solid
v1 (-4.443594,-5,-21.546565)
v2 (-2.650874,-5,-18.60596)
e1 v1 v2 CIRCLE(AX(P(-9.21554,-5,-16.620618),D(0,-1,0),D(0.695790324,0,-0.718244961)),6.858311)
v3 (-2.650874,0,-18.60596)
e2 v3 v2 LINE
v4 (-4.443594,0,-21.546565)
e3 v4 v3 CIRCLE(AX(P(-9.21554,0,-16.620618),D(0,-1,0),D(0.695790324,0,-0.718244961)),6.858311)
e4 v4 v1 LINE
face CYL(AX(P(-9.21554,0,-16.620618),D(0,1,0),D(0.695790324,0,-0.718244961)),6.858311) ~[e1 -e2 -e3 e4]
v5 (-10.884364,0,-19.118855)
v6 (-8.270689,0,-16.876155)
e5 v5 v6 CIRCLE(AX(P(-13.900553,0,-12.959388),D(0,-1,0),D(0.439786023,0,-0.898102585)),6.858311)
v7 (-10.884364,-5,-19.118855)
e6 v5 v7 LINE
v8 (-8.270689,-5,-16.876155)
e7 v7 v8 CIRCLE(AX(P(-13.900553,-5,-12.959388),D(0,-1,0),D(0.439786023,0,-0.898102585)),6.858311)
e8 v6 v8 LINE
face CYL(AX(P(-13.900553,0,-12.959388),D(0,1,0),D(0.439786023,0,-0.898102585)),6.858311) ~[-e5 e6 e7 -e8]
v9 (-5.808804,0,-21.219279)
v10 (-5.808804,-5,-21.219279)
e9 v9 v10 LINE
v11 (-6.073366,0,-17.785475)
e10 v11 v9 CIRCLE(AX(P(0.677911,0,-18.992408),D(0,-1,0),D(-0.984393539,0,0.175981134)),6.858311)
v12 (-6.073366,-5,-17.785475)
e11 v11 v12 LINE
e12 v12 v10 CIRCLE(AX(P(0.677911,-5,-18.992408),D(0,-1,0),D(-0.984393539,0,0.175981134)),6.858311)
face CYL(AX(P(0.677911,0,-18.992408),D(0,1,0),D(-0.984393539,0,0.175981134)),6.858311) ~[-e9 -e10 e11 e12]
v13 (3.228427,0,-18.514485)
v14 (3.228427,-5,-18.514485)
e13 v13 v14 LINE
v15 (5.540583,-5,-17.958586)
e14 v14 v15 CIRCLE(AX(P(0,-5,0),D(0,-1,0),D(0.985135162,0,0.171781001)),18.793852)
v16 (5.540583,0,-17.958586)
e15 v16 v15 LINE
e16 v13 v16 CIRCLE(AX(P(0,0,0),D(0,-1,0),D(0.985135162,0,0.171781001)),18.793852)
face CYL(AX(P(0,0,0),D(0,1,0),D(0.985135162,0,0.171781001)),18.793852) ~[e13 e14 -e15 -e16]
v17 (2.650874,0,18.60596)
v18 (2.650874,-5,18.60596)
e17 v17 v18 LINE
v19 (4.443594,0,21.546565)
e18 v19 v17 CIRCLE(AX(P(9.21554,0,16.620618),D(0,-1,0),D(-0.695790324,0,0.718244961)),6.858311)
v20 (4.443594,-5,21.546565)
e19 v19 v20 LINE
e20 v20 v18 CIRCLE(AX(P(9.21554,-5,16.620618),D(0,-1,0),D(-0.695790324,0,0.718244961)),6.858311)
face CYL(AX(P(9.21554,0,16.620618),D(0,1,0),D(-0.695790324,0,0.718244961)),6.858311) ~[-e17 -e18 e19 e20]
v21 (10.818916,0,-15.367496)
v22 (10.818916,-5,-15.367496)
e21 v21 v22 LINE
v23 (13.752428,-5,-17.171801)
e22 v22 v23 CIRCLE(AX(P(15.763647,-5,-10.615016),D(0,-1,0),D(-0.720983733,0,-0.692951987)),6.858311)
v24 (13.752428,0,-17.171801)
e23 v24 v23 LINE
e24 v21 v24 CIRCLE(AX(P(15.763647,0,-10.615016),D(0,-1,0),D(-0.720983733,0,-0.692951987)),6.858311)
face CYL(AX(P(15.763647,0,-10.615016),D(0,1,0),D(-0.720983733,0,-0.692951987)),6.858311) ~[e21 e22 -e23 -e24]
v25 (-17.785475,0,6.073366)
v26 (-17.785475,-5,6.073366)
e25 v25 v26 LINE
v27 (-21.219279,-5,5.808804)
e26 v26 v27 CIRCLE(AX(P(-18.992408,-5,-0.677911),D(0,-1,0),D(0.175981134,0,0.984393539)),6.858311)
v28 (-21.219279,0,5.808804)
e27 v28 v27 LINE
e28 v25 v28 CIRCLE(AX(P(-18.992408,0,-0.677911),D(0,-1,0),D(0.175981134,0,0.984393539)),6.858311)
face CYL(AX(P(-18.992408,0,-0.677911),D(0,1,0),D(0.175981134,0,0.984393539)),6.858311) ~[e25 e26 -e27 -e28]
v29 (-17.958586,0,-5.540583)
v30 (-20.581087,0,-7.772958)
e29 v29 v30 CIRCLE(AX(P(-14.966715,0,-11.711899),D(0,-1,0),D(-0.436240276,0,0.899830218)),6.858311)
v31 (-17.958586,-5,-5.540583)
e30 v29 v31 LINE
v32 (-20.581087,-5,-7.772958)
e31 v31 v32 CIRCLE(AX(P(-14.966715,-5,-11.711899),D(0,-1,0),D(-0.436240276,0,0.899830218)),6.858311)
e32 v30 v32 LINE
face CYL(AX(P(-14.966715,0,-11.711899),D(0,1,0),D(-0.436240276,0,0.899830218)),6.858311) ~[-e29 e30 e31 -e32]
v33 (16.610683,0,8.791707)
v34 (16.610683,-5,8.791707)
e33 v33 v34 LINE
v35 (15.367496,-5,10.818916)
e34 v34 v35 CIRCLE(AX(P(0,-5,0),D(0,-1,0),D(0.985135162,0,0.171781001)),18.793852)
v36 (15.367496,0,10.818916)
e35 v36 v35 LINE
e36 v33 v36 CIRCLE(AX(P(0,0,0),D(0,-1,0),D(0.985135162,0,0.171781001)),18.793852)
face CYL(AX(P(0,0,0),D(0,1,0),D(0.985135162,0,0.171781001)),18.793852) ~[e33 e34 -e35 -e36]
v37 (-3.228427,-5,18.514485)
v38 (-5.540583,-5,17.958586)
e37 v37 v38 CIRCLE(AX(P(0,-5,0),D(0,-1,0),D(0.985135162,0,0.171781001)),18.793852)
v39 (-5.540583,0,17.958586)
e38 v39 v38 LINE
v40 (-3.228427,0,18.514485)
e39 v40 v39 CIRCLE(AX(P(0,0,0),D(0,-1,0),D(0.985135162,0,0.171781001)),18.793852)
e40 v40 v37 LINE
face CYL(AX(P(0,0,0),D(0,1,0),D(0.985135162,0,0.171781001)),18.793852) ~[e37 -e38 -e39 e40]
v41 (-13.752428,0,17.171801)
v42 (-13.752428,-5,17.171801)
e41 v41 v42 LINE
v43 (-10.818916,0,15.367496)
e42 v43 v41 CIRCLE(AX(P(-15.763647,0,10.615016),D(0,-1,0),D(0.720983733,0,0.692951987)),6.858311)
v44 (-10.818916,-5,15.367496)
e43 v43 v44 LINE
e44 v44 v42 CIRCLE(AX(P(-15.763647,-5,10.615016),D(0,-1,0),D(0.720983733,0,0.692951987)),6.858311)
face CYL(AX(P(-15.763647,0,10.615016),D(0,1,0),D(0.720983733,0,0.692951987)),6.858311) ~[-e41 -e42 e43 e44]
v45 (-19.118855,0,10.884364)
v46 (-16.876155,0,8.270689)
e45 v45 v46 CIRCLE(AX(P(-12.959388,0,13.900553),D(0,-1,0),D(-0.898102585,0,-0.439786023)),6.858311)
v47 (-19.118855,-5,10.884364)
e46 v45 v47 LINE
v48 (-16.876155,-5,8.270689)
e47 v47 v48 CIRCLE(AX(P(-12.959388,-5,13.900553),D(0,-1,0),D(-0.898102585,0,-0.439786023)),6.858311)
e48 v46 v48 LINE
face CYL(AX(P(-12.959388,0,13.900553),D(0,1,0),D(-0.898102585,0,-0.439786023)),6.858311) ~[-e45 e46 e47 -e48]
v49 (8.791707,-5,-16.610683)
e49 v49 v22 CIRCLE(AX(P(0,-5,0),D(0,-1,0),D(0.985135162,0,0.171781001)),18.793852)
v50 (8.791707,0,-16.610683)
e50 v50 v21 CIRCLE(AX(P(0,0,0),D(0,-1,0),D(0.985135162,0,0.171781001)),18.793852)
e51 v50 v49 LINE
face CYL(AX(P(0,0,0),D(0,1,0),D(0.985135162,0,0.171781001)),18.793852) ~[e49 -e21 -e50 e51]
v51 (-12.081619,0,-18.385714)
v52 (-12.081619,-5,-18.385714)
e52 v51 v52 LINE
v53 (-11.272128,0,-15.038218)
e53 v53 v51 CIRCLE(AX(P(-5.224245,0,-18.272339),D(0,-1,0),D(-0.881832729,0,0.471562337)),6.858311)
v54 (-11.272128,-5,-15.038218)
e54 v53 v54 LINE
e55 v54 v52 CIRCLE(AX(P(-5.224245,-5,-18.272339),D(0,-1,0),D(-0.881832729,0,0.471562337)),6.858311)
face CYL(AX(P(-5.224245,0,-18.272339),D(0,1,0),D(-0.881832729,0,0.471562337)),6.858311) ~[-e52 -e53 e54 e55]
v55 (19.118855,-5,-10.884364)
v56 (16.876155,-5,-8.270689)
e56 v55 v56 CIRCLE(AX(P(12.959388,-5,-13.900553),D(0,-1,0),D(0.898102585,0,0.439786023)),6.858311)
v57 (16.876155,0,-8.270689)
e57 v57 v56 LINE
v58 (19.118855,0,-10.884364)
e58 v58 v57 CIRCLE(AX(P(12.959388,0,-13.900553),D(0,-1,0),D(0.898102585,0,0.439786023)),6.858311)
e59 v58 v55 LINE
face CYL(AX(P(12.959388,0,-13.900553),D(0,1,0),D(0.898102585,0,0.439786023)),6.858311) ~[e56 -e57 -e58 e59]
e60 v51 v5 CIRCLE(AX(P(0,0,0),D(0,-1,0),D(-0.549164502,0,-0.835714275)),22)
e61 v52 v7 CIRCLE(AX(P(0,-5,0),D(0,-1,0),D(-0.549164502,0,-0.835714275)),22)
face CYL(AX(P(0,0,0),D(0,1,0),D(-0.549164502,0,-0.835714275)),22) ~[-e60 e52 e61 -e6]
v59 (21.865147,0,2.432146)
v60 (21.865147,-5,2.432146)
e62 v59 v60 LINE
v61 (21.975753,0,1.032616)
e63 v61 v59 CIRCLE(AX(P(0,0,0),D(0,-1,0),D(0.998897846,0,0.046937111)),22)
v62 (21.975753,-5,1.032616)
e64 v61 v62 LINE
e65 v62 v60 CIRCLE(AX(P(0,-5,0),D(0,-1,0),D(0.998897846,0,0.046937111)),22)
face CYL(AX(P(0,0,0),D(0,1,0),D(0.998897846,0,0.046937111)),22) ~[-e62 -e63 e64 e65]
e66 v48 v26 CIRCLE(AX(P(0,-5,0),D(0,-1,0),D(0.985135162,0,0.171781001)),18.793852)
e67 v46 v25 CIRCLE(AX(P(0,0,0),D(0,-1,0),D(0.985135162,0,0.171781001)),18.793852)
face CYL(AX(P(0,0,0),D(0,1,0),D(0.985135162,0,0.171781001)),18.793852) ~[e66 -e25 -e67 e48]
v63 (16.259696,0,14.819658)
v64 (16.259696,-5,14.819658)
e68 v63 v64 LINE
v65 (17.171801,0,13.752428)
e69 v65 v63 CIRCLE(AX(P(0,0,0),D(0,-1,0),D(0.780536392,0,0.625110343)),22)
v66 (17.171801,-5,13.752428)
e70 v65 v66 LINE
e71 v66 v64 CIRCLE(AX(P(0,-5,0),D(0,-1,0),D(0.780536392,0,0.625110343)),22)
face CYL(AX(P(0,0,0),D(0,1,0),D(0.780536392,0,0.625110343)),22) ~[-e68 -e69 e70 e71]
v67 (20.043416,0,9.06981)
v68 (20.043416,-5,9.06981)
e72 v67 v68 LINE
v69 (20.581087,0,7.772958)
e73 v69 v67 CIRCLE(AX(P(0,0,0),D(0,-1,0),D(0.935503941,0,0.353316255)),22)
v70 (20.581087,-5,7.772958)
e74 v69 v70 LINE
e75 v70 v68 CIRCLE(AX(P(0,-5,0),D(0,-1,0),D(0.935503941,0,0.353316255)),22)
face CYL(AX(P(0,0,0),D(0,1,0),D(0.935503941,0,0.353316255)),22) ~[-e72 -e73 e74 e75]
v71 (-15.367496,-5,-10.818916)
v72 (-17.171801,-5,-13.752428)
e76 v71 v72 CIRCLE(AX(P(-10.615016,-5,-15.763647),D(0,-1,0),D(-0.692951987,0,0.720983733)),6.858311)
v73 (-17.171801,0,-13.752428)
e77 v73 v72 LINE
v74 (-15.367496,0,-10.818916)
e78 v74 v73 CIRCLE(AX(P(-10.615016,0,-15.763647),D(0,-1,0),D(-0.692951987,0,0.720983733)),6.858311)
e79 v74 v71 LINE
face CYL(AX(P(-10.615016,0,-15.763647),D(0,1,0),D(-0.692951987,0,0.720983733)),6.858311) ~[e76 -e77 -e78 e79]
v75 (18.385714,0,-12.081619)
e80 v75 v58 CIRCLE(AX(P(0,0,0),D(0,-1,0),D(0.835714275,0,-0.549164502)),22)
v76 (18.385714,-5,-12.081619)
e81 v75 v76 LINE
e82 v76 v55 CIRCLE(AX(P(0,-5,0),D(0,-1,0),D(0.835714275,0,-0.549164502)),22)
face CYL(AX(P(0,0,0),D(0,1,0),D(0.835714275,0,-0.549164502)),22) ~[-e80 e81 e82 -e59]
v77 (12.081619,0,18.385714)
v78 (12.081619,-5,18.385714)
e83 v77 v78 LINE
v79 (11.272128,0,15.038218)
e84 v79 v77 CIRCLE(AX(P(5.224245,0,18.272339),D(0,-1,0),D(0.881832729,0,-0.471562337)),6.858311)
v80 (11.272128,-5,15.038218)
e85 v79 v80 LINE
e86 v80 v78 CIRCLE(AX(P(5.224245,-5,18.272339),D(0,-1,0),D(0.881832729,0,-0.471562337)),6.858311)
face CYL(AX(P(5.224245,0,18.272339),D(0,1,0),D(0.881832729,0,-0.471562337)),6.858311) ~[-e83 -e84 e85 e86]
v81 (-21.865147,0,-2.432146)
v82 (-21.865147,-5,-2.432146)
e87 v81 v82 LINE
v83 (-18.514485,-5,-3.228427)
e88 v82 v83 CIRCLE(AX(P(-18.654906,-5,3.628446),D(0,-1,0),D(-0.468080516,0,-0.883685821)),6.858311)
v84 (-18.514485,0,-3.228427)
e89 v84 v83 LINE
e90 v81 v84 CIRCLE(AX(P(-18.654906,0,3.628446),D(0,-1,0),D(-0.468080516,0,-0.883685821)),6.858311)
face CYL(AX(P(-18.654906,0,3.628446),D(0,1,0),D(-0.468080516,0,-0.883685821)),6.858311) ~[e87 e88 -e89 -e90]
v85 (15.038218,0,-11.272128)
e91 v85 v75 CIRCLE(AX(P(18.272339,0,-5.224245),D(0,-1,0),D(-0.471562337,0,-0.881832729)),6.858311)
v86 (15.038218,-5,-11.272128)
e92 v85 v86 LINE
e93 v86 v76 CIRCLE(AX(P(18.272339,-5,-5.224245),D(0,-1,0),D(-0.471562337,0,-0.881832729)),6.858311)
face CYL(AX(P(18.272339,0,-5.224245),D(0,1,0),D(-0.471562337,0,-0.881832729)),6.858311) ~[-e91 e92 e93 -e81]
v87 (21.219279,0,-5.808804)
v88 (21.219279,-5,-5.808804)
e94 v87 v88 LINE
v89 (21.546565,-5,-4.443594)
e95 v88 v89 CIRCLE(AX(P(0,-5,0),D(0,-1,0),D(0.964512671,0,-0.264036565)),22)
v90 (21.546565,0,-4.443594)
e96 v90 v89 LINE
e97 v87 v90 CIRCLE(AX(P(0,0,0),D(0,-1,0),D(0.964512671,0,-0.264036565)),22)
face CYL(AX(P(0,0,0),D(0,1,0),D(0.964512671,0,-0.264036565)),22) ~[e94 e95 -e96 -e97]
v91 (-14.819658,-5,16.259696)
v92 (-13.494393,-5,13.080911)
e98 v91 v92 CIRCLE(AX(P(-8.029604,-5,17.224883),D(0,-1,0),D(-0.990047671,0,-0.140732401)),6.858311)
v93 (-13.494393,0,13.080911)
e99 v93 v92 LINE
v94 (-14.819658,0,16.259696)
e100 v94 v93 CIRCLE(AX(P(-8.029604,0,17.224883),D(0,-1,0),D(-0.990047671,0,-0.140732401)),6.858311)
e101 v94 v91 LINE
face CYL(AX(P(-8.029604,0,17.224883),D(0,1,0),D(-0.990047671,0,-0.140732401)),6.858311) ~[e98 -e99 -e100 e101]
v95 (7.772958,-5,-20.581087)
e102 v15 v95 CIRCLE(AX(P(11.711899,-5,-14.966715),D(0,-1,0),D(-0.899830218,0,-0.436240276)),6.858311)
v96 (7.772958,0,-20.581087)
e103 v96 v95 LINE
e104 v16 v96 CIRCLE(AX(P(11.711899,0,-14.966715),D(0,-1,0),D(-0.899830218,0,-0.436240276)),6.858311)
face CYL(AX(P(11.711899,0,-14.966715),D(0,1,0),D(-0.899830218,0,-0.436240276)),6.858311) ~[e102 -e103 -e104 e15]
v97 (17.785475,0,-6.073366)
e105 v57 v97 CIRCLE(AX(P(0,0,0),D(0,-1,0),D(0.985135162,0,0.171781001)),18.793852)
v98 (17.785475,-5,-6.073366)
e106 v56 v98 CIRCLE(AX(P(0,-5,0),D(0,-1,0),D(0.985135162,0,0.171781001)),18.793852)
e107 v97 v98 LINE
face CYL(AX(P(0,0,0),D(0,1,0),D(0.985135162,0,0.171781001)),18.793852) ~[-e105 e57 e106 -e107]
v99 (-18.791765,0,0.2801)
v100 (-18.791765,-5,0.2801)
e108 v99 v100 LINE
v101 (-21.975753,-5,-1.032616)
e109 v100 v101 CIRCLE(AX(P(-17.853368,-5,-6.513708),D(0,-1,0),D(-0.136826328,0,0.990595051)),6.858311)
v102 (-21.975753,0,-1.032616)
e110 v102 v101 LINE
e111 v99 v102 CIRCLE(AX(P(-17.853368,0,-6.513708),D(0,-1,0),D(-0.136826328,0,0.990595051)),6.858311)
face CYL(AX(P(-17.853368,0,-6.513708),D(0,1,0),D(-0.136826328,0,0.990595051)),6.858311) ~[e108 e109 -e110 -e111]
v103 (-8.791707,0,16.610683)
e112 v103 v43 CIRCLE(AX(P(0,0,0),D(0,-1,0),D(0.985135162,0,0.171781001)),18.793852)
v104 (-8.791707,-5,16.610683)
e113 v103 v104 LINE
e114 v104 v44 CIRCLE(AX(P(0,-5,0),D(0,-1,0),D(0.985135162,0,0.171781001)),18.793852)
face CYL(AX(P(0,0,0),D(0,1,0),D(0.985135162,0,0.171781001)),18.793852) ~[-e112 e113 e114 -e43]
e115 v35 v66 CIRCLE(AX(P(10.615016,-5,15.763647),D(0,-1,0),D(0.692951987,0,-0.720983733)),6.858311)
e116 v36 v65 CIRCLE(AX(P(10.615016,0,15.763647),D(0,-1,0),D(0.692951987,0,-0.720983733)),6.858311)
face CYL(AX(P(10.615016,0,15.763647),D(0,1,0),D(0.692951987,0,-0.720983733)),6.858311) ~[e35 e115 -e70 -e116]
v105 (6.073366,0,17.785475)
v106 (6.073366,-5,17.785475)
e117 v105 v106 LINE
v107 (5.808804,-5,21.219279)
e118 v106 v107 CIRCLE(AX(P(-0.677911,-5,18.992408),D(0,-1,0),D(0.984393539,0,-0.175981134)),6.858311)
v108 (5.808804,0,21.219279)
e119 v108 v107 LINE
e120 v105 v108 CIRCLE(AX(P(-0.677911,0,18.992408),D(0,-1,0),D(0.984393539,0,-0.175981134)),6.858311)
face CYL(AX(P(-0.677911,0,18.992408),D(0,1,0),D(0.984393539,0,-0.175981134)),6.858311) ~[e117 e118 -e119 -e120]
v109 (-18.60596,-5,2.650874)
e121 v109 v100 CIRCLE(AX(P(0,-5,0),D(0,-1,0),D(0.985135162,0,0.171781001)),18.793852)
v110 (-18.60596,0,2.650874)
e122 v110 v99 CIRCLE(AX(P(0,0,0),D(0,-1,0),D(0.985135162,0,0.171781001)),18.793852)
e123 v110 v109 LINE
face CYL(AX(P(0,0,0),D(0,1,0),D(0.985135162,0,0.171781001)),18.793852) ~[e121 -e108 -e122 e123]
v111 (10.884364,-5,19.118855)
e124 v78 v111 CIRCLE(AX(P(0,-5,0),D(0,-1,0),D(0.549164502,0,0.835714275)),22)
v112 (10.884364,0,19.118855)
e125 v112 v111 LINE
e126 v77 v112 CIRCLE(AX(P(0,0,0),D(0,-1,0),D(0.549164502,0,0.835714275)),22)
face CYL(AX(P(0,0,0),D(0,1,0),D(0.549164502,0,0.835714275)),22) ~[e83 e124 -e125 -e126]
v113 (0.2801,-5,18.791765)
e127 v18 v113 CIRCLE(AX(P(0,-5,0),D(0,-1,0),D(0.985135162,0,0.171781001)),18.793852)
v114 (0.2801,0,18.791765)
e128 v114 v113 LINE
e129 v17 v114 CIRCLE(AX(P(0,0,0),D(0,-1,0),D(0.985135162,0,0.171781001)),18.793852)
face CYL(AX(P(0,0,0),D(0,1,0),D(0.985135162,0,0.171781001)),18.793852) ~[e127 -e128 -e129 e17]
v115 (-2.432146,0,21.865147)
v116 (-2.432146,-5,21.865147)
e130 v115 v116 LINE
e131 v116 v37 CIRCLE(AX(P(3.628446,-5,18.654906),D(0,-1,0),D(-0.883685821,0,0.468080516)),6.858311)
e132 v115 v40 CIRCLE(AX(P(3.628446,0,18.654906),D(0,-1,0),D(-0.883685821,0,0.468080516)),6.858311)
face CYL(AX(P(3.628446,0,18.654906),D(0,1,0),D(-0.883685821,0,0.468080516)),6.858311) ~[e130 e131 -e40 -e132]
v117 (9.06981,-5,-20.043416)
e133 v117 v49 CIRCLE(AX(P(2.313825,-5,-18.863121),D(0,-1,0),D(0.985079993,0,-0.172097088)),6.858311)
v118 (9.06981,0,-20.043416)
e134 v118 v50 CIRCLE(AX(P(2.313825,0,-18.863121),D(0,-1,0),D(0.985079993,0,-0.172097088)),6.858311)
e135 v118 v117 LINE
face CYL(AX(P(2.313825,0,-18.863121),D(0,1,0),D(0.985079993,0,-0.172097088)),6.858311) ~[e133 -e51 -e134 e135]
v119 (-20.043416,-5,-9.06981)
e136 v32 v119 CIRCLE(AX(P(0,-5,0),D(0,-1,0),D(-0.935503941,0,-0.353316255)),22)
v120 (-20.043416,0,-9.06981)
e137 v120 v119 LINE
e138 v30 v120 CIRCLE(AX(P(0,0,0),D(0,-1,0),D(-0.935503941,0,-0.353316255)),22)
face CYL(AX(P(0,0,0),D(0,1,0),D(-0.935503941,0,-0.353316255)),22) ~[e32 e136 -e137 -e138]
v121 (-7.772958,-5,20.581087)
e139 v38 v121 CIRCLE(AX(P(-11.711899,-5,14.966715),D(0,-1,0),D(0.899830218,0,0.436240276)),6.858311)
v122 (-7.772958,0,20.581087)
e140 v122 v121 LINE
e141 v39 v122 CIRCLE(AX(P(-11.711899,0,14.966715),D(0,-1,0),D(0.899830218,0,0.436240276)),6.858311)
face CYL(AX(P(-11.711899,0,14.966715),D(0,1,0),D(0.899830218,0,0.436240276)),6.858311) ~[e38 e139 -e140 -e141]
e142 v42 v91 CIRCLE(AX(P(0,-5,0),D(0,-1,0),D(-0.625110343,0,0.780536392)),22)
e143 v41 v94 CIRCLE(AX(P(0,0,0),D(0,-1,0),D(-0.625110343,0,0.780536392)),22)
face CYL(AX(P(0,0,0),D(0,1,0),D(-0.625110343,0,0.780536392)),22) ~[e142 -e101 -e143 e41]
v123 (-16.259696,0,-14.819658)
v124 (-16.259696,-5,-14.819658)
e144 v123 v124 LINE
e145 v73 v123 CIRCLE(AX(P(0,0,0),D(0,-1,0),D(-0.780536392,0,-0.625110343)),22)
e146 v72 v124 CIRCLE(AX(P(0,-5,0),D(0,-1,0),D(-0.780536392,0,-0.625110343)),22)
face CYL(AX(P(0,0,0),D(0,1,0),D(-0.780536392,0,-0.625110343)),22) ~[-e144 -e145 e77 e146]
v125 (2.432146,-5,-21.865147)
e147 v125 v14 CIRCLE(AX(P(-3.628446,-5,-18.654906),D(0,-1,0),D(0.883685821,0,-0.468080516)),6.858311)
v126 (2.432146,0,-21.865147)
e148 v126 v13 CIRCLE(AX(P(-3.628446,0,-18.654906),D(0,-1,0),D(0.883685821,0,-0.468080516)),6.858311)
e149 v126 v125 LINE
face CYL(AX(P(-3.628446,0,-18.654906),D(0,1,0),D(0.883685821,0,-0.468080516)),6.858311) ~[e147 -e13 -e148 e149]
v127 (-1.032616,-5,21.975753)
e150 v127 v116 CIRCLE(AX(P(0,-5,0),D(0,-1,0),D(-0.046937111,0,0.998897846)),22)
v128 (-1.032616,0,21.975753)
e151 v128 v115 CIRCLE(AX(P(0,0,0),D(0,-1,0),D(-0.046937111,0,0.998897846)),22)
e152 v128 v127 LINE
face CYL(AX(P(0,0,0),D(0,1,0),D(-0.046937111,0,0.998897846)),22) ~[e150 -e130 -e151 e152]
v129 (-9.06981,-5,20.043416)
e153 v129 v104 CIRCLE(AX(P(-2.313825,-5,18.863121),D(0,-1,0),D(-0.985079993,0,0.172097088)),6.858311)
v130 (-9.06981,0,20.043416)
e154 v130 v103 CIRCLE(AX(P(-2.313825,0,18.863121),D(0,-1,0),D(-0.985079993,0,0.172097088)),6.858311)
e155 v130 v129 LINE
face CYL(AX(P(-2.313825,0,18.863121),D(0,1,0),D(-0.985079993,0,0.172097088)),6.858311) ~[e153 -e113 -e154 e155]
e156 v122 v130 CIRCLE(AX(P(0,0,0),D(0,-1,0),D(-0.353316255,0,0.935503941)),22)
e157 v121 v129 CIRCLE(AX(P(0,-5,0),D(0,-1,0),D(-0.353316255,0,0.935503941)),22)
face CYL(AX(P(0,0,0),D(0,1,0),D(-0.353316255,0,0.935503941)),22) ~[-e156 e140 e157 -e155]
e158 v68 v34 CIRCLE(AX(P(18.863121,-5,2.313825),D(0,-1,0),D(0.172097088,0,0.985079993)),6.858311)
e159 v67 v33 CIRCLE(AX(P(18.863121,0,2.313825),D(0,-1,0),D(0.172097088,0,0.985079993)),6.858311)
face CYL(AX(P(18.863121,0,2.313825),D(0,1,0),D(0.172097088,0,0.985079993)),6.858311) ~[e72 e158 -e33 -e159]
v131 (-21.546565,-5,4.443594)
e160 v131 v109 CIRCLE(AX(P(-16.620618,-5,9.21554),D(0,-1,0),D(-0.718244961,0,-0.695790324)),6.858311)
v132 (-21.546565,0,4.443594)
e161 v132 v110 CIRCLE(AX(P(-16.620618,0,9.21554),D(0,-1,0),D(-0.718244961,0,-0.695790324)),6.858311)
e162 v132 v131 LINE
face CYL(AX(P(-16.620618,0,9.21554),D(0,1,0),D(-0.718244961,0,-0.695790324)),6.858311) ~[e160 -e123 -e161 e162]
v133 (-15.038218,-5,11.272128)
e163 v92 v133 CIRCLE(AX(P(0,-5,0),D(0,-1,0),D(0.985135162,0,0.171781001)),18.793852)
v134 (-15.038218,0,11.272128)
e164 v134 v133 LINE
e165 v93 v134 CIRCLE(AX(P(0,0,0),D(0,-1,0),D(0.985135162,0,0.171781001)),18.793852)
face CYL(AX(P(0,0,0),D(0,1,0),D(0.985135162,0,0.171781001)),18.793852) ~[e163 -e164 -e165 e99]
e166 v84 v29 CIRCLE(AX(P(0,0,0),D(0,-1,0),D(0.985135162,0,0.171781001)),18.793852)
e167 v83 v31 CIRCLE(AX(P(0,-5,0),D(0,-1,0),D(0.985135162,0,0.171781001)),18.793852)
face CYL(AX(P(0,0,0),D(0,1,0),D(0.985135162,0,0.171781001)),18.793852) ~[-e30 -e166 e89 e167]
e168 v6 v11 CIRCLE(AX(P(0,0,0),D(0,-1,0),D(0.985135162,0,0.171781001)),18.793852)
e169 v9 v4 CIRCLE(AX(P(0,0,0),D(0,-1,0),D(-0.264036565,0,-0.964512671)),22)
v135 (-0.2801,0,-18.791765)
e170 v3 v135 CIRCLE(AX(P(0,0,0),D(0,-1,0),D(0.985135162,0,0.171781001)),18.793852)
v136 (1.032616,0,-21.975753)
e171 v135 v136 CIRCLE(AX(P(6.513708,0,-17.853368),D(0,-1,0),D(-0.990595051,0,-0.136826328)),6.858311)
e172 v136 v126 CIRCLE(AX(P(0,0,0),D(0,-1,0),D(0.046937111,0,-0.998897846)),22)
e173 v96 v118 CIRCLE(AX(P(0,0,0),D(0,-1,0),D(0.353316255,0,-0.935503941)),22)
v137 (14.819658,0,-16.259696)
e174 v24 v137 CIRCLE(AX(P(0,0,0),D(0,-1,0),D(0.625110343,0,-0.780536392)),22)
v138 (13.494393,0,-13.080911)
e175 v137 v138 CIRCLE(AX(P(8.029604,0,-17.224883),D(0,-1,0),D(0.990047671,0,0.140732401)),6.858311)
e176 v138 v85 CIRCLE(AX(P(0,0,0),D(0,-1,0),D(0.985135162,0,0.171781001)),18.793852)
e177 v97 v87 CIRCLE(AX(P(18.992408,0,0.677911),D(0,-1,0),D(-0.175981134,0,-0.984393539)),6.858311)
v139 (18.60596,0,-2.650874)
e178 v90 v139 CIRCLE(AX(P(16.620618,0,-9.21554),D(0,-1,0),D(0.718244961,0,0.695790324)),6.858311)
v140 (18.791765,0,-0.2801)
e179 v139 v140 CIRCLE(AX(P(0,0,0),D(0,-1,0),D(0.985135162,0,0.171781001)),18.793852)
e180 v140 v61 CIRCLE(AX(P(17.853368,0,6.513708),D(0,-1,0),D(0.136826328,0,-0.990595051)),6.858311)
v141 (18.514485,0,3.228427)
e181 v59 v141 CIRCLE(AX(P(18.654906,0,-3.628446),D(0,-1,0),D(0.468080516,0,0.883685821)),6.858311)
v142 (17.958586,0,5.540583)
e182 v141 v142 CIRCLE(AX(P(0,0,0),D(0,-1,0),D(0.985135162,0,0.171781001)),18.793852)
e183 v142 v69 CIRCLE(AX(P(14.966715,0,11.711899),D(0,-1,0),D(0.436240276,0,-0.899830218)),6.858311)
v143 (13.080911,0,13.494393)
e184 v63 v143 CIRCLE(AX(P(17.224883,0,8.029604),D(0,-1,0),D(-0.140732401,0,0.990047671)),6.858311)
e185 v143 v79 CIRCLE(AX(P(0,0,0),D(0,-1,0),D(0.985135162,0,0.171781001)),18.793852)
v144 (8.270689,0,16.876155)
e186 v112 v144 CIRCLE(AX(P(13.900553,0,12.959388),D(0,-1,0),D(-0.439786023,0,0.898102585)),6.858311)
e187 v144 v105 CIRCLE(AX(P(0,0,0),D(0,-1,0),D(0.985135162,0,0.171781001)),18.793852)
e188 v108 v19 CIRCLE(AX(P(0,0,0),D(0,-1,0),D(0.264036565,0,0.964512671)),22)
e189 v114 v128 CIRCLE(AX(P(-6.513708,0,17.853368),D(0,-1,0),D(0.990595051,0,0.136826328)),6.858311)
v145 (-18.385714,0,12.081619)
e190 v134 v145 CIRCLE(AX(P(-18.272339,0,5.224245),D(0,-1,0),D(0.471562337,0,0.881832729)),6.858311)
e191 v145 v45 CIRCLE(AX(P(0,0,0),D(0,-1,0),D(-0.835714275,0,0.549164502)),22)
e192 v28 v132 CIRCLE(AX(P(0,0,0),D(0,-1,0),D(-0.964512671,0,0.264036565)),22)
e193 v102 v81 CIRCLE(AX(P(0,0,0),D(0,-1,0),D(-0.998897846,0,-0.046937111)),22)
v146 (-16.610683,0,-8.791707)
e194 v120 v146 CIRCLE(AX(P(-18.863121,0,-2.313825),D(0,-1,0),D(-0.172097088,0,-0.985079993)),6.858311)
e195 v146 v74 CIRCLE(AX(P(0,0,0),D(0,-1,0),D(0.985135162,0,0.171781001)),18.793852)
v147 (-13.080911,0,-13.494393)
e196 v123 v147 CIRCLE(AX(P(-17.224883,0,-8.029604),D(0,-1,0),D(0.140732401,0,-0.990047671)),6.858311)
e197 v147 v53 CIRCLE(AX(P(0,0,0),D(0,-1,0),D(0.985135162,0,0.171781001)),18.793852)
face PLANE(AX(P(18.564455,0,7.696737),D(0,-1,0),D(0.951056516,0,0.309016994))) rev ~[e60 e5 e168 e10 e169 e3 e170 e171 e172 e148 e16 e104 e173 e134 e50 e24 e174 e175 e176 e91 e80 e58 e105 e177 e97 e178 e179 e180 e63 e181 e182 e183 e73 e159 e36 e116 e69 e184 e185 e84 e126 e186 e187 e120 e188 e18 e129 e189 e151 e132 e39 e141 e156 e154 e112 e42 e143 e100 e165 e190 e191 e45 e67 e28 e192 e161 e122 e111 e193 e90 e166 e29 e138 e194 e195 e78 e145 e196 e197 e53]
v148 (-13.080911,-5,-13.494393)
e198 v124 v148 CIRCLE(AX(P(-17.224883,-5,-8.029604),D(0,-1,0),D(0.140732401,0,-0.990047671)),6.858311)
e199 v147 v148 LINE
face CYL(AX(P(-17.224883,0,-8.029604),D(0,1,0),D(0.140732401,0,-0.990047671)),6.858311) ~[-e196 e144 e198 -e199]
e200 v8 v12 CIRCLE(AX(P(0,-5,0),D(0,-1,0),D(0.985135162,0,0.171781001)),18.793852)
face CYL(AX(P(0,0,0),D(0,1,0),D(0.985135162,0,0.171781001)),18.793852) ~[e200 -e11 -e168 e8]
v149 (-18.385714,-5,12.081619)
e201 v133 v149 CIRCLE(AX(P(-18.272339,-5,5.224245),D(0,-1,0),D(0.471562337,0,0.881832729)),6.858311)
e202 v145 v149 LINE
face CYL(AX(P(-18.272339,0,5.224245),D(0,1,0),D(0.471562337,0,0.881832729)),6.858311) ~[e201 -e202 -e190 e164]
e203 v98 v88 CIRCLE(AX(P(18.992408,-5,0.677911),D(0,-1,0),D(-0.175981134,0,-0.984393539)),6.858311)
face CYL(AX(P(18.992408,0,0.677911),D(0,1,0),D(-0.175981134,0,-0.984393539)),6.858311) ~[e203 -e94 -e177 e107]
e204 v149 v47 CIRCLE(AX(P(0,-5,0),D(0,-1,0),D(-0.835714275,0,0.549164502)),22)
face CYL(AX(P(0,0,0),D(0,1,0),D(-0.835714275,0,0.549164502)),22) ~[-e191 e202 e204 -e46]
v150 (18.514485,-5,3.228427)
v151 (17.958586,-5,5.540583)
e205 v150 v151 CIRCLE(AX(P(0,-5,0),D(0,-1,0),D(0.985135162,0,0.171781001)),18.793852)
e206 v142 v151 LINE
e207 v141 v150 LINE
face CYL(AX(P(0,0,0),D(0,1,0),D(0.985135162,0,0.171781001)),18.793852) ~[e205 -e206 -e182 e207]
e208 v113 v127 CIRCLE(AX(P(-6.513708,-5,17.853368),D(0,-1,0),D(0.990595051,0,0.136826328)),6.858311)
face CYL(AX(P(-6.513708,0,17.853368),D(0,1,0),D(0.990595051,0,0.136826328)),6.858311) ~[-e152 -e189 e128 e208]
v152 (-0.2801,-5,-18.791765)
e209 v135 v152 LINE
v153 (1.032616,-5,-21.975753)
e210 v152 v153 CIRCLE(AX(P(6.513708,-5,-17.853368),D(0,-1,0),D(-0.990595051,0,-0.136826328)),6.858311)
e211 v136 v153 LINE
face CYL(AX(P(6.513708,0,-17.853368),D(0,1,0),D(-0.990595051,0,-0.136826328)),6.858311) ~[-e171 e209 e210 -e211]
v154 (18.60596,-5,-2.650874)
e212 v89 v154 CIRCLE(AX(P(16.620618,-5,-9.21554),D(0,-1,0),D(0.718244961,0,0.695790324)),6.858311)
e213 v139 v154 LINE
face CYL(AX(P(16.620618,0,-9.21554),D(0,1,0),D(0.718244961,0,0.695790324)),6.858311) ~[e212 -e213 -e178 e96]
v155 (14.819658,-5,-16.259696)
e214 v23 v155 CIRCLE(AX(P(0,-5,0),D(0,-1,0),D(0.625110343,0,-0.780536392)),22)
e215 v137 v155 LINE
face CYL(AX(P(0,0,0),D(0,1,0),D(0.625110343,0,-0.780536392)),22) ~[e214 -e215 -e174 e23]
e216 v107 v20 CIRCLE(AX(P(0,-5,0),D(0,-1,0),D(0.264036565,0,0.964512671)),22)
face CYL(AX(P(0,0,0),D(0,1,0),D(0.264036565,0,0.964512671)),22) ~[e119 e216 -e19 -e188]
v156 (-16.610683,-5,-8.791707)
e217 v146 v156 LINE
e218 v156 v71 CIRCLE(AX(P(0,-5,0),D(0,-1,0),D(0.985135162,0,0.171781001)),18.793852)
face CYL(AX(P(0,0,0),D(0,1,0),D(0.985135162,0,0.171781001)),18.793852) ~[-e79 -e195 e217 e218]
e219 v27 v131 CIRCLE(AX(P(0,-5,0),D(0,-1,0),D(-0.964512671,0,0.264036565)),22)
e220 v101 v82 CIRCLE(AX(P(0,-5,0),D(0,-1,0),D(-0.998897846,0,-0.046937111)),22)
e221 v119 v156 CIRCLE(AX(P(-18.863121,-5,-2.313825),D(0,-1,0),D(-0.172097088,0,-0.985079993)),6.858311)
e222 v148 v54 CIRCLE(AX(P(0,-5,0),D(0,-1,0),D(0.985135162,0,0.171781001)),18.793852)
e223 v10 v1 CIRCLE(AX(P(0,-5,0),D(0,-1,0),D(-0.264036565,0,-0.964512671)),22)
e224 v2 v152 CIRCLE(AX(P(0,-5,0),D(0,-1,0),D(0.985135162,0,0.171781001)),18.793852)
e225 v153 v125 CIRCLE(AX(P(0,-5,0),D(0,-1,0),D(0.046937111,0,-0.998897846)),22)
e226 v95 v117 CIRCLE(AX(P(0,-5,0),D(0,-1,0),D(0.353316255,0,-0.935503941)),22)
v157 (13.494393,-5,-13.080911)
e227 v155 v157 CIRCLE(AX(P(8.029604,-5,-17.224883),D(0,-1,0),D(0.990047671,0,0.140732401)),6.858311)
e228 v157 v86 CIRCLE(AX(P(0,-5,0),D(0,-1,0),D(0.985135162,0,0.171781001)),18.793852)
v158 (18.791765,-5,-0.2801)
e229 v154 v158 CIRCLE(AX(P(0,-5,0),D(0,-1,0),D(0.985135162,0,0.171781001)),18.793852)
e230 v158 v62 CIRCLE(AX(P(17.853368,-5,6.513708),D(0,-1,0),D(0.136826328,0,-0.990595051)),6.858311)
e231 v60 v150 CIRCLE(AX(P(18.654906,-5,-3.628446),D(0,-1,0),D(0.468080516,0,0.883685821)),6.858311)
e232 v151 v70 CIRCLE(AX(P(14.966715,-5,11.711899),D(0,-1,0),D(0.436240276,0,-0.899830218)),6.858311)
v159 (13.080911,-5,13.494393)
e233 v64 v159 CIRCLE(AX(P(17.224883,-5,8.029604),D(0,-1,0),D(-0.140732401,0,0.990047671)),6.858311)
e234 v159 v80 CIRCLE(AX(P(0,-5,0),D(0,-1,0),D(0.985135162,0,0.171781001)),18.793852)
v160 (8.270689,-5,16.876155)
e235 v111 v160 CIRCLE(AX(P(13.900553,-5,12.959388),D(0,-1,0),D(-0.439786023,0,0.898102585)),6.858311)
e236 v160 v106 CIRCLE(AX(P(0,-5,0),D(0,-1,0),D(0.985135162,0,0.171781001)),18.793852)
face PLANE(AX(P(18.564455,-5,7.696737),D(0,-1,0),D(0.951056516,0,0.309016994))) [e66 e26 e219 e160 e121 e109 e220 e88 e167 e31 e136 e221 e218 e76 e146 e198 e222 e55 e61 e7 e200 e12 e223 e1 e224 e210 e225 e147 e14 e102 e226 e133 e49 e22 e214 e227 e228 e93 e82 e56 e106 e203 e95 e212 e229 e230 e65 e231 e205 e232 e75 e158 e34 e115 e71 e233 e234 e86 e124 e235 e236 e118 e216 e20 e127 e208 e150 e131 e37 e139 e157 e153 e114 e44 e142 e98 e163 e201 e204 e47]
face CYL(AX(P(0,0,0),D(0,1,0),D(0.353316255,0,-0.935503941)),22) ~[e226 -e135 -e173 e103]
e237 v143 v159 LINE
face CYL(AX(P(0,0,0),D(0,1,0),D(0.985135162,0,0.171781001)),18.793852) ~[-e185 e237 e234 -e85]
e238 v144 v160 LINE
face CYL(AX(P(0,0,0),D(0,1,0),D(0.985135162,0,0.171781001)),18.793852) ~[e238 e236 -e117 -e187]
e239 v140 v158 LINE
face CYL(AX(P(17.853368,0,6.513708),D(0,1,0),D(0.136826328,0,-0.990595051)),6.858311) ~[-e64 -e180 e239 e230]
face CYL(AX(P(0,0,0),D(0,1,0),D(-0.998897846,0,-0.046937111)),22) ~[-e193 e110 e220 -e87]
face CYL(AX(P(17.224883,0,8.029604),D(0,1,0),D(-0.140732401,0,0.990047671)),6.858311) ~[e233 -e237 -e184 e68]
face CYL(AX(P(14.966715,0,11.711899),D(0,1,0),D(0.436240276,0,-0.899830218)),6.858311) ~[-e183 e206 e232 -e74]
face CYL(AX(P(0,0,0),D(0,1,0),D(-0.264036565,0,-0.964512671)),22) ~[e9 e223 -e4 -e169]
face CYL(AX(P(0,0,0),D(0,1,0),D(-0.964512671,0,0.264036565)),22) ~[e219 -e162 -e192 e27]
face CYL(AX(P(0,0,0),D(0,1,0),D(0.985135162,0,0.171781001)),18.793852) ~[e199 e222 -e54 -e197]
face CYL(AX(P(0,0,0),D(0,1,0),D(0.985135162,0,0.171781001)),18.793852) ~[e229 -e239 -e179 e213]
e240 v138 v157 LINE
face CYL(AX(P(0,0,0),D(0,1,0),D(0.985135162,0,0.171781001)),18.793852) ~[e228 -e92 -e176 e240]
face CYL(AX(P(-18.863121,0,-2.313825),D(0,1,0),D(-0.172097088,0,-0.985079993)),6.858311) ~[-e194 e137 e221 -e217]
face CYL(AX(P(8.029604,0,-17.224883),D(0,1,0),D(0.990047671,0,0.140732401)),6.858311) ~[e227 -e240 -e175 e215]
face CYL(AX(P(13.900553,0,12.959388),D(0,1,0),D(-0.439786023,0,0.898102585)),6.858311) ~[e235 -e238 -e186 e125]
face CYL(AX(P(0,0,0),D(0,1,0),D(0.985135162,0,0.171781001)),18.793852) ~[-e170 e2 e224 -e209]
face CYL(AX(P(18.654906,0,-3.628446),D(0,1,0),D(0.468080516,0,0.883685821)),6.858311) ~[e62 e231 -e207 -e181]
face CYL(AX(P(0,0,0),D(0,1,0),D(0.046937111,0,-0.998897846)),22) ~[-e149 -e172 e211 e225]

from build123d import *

# Parameters (mm, degrees)
F2_DEPTH = 5
F3_DEPTH = 5
F5_COUNT = 20
F5_ANGLE = 342


with BuildPart() as f2:
    # F1 (on Front) → F2 (new body)
    with BuildSketch(Plane.XZ):
        with BuildLine():
            ThreePointArc((18.791765015, -0.2801004202), (18.7933305583, -0.140054099), (18.7938524157, 0))
            ThreePointArc((18.7938524157, 0), (18.7238802654, 1.6202457939), (18.5144848465, 3.2284267827))
            ThreePointArc((18.5144848465, 3.2284267827), (-18.7354346217, -1.4806681458), (18.791765015, -0.2801004202))
        make_face()
    extrude(amount=F2_DEPTH)

    # F1 (on Front) → F3 (join)
    with BuildSketch(Plane.XZ):
        with BuildLine():
            ThreePointArc((18.5144848465, 3.2284267827), (18.7238802654, 1.6202457939), (18.7938524157, 0))
            ThreePointArc((18.7938524157, 0), (18.7933305583, -0.140054099), (18.791765015, -0.2801004202))
            ThreePointArc((18.791765015, -0.2801004202), (20.4674995965, 0.1731452079), (21.9757526216, 1.0326164403))
            ThreePointArc((21.9757526216, 1.0326164403), (21.9316163904, 1.7332635421), (21.8651473224, 2.4321456718))
            ThreePointArc((21.8651473224, 2.4321456718), (20.2406124153, 3.0440315456), (18.5144848465, 3.2284267827))
        make_face()
    extrude(amount=F3_DEPTH)

    # F5: F2 ×20 about axis
    f5_axis = Axis((0, 6.1465417966, 0), (0, 1, 0))


with BuildPart() as f2_1:
    add(f2.part)
    for i in range(1, F5_COUNT):
        add(f2.part.rotate(f5_axis, i * F5_ANGLE / (F5_COUNT - 1)))


solid = f2_1.part
